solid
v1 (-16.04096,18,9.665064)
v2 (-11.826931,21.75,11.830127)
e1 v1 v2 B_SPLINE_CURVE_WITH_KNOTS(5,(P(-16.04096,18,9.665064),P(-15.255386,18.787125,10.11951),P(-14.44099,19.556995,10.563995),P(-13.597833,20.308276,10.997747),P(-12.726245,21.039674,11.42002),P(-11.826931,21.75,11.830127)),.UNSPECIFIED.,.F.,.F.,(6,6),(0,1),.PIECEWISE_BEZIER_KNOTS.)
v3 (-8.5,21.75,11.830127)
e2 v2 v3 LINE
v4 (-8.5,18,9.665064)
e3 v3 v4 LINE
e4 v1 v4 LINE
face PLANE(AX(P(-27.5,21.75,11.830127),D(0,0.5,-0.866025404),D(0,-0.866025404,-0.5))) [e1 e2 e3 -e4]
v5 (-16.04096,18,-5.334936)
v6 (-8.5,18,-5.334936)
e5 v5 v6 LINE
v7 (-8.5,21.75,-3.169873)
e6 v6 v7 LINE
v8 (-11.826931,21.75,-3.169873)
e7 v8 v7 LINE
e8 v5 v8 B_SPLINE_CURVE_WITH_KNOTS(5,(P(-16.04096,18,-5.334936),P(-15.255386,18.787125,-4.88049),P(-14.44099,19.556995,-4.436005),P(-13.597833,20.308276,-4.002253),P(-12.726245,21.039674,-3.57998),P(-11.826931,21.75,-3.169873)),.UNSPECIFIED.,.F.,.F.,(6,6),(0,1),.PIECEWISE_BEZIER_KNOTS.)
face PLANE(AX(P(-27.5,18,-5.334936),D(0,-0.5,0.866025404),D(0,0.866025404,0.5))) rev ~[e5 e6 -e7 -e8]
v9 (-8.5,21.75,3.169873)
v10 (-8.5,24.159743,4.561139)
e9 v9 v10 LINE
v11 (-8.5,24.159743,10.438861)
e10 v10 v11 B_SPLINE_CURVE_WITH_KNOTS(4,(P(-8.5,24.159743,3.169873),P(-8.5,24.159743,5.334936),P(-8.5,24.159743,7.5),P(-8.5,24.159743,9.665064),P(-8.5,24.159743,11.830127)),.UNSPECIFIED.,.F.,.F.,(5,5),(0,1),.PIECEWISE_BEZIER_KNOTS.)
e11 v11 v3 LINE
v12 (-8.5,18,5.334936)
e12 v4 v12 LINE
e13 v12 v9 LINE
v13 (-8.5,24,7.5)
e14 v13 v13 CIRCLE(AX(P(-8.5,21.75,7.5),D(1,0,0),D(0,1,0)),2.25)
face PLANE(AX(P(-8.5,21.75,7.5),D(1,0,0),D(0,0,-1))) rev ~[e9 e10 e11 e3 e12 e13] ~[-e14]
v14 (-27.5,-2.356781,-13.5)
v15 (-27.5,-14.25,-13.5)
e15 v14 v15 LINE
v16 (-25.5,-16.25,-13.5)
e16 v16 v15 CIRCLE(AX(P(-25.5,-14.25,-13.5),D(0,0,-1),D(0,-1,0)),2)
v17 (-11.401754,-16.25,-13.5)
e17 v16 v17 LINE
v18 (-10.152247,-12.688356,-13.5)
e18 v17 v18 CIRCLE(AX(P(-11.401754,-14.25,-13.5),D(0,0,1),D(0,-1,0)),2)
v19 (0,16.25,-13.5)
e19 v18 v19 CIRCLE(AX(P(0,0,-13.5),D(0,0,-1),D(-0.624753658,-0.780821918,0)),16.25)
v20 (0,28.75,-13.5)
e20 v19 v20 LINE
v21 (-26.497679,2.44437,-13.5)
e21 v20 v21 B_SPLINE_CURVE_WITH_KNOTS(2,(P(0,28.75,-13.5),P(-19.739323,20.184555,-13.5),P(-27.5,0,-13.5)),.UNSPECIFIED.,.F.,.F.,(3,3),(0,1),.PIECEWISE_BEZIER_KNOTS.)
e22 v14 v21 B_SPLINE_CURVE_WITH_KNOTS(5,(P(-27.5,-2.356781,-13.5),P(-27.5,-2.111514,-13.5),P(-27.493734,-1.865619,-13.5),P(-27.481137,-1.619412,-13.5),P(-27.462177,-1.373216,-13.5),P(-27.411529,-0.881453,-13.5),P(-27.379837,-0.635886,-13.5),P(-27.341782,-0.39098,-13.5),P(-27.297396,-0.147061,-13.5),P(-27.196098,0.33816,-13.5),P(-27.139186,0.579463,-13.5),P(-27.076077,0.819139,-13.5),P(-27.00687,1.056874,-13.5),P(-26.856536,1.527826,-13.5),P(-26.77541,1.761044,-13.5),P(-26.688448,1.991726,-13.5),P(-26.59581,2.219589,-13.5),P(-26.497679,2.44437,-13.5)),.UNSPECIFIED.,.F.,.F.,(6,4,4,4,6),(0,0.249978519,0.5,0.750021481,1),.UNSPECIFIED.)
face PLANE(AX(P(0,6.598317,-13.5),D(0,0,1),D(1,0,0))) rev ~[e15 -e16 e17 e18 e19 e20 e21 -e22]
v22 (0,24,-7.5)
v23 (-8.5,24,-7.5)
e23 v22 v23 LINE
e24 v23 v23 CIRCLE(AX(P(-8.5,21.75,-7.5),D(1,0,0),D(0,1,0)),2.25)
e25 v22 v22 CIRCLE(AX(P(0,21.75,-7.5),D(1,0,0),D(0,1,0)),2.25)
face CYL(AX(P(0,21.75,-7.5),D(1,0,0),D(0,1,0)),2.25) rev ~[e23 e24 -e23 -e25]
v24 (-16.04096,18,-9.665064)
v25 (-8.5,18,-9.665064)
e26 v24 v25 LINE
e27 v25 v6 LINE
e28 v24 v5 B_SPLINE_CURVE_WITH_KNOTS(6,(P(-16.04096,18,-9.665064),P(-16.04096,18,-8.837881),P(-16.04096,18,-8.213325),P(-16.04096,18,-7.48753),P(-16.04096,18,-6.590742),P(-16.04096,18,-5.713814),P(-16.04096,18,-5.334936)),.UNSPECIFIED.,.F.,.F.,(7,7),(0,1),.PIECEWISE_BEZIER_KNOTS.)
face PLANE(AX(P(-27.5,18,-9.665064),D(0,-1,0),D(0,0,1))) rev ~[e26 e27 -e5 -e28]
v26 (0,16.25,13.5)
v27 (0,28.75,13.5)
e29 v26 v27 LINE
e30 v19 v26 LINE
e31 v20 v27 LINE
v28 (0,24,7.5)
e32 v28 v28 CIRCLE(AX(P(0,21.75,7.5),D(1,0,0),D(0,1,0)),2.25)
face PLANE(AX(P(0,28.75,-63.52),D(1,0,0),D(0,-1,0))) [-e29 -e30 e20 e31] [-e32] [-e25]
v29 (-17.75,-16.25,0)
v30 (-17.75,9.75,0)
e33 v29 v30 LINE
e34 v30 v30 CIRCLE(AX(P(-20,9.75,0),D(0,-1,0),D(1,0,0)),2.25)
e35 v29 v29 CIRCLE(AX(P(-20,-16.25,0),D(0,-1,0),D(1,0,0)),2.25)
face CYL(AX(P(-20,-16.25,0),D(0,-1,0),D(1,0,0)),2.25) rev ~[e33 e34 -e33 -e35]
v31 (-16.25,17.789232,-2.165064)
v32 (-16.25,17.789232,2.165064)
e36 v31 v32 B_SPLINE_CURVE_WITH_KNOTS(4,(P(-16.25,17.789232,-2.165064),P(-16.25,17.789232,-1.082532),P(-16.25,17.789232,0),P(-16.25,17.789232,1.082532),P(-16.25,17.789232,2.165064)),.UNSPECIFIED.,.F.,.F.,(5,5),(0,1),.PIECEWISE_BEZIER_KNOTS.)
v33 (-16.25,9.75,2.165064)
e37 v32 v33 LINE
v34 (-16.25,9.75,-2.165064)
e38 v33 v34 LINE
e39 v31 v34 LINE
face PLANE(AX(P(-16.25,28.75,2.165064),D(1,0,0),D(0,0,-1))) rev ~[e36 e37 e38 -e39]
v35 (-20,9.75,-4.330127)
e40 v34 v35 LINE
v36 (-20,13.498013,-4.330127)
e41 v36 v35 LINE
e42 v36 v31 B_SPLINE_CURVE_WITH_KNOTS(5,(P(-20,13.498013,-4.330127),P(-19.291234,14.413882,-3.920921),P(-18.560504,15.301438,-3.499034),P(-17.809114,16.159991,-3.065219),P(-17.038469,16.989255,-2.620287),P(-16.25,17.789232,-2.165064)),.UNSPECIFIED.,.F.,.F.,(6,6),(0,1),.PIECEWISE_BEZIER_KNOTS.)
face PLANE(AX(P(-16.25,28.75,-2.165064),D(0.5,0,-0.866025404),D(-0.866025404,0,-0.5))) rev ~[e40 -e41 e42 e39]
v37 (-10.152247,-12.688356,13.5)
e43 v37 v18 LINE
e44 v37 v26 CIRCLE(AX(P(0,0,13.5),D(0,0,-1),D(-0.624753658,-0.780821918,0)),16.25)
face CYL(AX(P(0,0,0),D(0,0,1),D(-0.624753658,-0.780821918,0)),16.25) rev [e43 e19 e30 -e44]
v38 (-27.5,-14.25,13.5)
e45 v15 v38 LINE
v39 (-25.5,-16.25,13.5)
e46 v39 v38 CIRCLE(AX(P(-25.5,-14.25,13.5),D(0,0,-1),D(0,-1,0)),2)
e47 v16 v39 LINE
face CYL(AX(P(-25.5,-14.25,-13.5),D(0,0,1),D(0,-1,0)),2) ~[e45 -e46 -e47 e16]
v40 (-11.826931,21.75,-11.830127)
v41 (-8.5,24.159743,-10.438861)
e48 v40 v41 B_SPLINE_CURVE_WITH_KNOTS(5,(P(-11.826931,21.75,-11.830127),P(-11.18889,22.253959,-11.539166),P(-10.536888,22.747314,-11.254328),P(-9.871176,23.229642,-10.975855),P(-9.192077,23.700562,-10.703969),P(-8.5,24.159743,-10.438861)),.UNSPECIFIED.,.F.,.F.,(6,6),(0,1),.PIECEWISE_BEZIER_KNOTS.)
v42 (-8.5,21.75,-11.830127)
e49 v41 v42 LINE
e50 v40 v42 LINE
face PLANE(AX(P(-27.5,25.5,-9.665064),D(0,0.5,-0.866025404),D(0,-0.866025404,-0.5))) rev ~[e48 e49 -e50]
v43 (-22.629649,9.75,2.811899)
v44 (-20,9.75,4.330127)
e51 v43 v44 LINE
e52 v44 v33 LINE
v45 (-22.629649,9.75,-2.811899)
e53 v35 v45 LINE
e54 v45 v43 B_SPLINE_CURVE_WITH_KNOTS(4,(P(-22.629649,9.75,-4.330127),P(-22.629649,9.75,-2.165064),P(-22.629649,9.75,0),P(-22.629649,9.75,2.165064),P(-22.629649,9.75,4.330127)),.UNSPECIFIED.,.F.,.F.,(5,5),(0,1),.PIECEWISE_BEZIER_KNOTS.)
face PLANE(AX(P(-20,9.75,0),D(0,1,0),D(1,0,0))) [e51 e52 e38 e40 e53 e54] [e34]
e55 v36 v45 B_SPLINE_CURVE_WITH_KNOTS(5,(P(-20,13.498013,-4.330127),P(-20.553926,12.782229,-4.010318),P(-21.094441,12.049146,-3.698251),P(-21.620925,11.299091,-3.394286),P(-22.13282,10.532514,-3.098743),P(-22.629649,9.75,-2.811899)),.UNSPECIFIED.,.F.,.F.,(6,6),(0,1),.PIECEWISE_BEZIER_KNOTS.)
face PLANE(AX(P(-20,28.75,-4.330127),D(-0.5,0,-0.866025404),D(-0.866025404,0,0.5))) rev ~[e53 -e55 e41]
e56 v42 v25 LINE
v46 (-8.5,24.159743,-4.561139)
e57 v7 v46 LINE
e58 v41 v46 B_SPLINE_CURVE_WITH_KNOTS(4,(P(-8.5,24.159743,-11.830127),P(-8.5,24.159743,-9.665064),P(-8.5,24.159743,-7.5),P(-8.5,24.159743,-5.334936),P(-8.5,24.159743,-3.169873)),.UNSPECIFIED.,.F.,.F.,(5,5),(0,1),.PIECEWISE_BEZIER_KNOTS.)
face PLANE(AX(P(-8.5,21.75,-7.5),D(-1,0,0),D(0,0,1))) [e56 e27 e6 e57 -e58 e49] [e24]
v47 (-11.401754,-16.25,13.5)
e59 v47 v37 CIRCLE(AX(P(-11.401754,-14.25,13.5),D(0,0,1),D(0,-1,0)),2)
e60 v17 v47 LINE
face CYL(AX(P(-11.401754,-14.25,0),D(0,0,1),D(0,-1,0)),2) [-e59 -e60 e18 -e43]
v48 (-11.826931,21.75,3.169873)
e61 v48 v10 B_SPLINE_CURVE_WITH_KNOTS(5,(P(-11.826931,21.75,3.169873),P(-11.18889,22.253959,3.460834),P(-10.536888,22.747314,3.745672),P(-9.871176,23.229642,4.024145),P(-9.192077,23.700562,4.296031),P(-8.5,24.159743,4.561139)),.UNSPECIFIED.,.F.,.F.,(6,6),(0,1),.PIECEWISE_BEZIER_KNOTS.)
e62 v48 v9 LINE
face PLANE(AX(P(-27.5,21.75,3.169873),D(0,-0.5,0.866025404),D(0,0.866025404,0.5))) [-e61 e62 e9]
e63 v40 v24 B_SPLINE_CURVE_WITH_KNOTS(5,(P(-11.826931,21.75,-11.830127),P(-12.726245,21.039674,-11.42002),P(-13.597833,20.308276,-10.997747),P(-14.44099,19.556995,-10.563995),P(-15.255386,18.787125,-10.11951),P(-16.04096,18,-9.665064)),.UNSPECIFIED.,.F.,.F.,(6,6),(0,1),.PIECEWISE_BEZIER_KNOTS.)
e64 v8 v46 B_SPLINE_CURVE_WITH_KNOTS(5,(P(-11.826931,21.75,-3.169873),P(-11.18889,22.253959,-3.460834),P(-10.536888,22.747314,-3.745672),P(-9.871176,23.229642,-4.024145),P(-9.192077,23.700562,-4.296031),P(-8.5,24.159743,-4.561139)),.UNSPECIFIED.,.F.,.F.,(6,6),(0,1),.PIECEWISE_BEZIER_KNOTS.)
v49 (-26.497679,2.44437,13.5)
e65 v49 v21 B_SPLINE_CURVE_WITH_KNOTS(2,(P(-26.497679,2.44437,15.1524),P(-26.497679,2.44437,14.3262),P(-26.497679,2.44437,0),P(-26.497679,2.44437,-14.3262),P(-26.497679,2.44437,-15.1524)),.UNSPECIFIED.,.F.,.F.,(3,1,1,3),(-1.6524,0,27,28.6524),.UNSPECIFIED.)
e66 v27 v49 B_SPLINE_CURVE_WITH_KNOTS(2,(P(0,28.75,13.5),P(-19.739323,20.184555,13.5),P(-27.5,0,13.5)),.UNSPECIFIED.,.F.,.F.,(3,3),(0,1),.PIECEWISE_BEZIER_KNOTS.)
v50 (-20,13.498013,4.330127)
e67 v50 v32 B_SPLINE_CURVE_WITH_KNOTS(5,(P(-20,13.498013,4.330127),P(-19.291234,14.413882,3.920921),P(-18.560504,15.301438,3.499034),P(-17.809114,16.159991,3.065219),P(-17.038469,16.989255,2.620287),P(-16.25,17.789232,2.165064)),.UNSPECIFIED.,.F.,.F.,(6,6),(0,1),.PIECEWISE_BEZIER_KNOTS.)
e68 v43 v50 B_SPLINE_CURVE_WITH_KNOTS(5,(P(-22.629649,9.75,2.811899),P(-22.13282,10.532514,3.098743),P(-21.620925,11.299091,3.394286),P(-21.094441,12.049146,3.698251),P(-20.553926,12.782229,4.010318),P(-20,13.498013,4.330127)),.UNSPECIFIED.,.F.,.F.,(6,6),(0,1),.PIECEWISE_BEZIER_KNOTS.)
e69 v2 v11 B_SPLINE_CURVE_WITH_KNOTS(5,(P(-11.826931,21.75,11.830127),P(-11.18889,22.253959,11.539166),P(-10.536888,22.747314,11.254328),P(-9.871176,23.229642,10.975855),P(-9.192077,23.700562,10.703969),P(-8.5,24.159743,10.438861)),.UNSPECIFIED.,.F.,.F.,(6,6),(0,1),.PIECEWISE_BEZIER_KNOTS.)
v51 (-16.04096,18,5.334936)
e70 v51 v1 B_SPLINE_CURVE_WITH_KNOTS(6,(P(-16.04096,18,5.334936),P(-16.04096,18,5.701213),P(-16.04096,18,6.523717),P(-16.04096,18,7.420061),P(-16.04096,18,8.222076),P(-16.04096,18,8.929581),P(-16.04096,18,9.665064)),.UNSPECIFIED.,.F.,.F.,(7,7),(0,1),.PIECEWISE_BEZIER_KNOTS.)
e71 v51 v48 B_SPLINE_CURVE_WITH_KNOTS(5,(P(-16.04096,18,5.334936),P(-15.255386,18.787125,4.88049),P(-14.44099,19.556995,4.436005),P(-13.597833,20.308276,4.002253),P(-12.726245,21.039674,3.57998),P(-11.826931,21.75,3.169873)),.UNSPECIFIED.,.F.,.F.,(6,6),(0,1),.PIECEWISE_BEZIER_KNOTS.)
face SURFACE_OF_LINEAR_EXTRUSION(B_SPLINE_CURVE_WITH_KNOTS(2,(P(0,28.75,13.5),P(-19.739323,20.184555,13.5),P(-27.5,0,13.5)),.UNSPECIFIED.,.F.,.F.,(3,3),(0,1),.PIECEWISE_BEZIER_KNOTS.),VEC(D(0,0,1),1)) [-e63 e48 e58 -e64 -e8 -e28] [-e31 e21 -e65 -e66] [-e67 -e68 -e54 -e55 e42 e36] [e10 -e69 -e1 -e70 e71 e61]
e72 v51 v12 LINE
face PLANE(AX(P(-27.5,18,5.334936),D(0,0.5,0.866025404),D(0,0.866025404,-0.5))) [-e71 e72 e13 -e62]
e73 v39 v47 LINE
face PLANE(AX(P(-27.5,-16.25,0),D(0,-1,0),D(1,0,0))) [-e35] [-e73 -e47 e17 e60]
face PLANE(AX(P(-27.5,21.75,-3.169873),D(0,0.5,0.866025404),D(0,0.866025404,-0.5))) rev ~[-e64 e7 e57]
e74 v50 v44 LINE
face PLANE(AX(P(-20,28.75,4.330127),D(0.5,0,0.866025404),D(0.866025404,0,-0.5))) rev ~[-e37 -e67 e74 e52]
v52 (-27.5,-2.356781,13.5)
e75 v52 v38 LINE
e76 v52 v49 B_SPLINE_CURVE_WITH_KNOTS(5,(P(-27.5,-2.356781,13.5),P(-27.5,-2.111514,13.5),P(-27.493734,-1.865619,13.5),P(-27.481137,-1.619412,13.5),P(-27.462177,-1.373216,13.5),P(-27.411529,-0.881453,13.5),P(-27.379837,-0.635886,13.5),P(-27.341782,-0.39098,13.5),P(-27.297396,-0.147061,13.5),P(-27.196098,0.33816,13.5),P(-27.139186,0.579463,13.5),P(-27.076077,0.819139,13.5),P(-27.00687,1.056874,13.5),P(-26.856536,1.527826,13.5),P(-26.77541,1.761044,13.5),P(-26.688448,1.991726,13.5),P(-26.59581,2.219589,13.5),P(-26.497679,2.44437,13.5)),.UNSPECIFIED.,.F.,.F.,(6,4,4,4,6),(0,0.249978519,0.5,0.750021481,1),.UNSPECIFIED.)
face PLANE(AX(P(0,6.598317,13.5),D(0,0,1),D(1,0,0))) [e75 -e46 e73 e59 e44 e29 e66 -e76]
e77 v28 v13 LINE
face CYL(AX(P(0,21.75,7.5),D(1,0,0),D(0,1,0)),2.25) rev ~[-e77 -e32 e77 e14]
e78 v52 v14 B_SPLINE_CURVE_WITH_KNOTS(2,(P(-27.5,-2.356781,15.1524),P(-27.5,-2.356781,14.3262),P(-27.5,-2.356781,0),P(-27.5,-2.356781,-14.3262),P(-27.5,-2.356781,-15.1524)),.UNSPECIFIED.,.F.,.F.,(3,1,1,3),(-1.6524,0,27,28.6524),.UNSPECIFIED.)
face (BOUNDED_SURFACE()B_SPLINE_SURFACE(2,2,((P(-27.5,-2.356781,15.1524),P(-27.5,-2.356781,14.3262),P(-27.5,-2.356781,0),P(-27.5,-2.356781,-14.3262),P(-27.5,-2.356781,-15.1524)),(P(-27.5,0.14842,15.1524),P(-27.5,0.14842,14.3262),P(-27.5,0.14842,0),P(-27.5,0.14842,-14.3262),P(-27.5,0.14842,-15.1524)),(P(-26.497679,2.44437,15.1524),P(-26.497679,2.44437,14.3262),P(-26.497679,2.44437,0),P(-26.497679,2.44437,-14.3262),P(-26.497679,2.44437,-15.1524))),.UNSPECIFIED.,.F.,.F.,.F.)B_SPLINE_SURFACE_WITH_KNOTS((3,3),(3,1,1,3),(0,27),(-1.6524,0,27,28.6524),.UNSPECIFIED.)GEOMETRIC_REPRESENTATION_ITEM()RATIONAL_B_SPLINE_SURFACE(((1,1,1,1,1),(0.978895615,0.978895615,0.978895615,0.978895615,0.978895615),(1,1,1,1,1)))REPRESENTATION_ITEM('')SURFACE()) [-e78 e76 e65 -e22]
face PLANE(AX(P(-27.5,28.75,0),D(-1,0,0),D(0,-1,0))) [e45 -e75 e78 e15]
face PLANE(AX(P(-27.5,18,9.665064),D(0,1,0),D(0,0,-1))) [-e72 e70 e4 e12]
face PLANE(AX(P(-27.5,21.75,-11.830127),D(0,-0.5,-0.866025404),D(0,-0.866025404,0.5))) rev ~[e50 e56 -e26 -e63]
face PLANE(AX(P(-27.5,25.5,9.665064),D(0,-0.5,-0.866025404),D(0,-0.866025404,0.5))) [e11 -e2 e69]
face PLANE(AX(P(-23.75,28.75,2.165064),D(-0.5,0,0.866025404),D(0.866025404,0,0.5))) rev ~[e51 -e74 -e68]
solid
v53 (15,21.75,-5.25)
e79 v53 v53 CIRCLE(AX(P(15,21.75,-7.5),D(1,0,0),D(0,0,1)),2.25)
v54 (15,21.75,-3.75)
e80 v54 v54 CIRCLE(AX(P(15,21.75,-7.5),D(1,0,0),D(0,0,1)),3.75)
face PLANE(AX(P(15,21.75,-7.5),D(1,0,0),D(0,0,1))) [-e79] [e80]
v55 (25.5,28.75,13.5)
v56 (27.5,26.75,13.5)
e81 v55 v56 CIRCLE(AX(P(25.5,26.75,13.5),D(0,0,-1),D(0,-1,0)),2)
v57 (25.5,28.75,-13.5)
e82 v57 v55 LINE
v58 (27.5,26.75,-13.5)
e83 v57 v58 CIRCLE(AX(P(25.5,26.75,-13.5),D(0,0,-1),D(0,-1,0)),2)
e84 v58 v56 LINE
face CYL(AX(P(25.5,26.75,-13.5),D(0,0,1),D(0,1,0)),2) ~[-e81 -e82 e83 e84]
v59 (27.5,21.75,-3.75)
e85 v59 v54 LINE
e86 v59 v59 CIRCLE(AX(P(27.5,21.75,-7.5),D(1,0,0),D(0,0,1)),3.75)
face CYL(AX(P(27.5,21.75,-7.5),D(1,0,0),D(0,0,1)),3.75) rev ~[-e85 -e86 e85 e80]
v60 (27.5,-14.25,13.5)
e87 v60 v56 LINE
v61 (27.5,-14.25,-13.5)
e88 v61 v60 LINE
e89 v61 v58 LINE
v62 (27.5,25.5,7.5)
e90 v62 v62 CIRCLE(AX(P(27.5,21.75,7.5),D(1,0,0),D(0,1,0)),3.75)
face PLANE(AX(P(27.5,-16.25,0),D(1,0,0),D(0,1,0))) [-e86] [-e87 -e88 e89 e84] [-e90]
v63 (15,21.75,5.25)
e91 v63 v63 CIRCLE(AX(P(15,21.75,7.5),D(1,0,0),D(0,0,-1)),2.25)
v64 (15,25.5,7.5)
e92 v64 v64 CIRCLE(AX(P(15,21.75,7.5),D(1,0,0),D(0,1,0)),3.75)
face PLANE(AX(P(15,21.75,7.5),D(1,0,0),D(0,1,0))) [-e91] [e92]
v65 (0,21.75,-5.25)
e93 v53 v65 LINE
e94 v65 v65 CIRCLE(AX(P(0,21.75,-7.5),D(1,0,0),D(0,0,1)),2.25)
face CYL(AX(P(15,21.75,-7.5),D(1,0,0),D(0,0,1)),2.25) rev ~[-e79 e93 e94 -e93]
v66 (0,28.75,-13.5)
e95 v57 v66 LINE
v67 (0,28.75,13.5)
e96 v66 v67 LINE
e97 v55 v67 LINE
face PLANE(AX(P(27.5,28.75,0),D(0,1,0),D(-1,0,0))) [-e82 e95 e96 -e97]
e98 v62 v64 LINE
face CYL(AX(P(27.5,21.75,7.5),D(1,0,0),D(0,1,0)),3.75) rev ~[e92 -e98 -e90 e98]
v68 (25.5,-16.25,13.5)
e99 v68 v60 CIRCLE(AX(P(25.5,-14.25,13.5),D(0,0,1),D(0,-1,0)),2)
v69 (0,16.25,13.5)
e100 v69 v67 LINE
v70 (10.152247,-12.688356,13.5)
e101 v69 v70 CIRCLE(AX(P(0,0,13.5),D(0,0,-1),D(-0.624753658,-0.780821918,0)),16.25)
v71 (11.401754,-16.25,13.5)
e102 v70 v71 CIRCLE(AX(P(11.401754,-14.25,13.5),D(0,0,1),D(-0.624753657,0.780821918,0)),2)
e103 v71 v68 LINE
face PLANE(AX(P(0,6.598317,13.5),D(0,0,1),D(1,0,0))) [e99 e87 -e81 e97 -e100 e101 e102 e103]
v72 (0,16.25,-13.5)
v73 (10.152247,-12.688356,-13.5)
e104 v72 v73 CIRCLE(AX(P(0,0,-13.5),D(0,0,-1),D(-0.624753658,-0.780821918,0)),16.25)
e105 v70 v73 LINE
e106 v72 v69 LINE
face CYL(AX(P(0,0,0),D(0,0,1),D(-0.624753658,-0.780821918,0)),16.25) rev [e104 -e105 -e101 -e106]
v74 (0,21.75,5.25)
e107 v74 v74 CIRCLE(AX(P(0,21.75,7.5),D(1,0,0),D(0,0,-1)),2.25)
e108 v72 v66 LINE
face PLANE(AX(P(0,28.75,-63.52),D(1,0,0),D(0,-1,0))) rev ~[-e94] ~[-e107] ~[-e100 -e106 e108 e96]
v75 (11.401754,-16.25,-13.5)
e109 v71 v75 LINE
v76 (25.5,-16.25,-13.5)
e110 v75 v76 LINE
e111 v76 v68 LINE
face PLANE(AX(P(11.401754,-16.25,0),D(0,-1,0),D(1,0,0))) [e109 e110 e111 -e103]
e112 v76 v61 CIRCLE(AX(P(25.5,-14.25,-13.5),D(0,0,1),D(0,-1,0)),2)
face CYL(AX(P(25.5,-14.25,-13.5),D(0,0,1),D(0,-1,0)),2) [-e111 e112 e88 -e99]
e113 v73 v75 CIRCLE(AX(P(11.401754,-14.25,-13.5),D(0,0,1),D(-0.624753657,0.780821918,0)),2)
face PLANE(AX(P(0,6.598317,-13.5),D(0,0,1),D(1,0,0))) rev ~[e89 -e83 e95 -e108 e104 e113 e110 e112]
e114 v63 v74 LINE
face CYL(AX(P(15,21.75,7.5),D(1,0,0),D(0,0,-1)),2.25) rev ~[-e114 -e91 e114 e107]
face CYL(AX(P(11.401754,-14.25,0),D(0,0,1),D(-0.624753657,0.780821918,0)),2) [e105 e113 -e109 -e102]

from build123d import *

# Parameters (mm, degrees)
BOSS_EXTRUDE1_DEPTH    = 13.5
FILLET1_R              = 2
SPLIT1_SURFACE_1_BACK  = 77.02
SPLIT1_SURFACE_1_DEPTH = 154.04
SPLIT1_SURFACE_2_BACK  = 77.02
SPLIT1_SURFACE_2_DEPTH = 154.04
SKETCH3_R              = 3.75
CUT_EXTRUDE1_DEPTH     = 12.5
SKETCH7_R              = 2.25
CUT_EXTRUDE3_DEPTH     = 15
CUT_EXTRUDE2_DEPTH     = 27
FILLET2_R              = 12
SKETCH8_R              = 2.25
CUT_EXTRUDE4_DEPTH     = 27.5
CUT_EXTRUDE5_DEPTH     = 19
SKETCH10_R             = 2.25
CUT_EXTRUDE6_DEPTH     = 35
CUT_EXTRUDE7_DEPTH     = 19


with BuildPart() as part:
    # Sketch1 → Boss-Extrude1 (new, symmetric)
    with BuildSketch(Plane.XY):
        with BuildLine():
            Line((11.401754251, -16.25), (27.5, -16.25))
            Line((27.5, -16.25), (27.5, 28.75))
            Line((27.5, 28.75), (-27.5, 28.75))
            Line((-27.5, 28.75), (-27.5, -16.25))
            Line((-27.5, -16.25), (-11.401754251, -16.25))
            ThreePointArc((-11.401754251, -16.25), (-9.514522459, -14.912084711), (-10.152246936, -12.688356164))
            ThreePointArc((-10.152246936, -12.688356164), (0, 16.25), (10.152246936, -12.688356164))
            ThreePointArc((10.152246936, -12.688356164), (9.514522459, -14.912084711), (11.401754251, -16.25))
        make_face()
    extrude(amount=BOSS_EXTRUDE1_DEPTH, both=True)

    # Fillet1
    fillet1_edges = [part.edges().sort_by_distance(p)[0] for p in [
        (27.5, 28.75, 0),
        (27.5, -16.25, 0),
        (-27.5, -16.25, 0),
    ]]
    fillet(fillet1_edges, radius=FILLET1_R)


with BuildPart() as body_2:
    # Split1: the piece behind the surface
    add(part.part)
    # Split1 surface: a surface, the sketch's curves swept straight by 154.04 mm
    with BuildLine(Plane.XY.offset(13.5).offset(-SPLIT1_SURFACE_1_BACK), mode=Mode.PRIVATE) as split1_surface_1_path:
        Line((0, 28.75), (0, 0))
    split1_surface_1 = Shell.extrude(split1_surface_1_path.wire(), (0 * SPLIT1_SURFACE_1_DEPTH, 0 * SPLIT1_SURFACE_1_DEPTH, 1 * SPLIT1_SURFACE_1_DEPTH))
    split(bisect_by=split1_surface_1, keep=Keep.BOTTOM)

    # Sketch6 → Cut-Extrude2 (cut)
    with BuildSketch(Plane.XY.offset(13.5)):
        with BuildLine():
            Line((-27.5, 28.75), (-27.5, 0))
            add(Edge.make_bspline(
                [(0, 28.75), (-19.739323264, 20.184554889), (-27.5, 0)],
                knots=[0, 0, 0, 1, 1, 1], degree=2))
            Line((0, 28.75), (-27.5, 28.75))
        make_face()
    extrude(amount=-CUT_EXTRUDE2_DEPTH, mode=Mode.SUBTRACT)

    # Fillet2
    fillet2_edges = [body_2.edges().sort_by_distance(p)[0] for p in [
        (-27.5, 0, 0),
    ]]
    fillet(fillet2_edges, radius=FILLET2_R)

    # Sketch8 → Cut-Extrude4 (cut)
    with BuildSketch(Plane(origin=(0, 0, 0), x_dir=(0, 0, -1), z_dir=(1, 0, 0))):
        with Locations(Location((7.5, 21.75, 0), (0, 0, 90))):
            Circle(SKETCH8_R)
        with Locations(Location((-7.5, 21.75, 0), (0, 0, 90))):
            Circle(SKETCH8_R)
    extrude(amount=-CUT_EXTRUDE4_DEPTH, mode=Mode.SUBTRACT)

    # Sketch9 → Cut-Extrude5 (cut)
    with BuildSketch(Plane.ZY.offset(27.5)):
        Polygon((-5.334936491, 25.5), (-9.665063509, 25.5), (-11.830127019, 21.75), (-9.665063509, 18), (-5.334936491, 18), (-3.169872981, 21.75), align=None)
        Polygon((3.169872981, 21.75), (5.334936491, 25.5), (9.665063509, 25.5), (11.830127019, 21.75), (9.665063509, 18), (5.334936491, 18), align=None)
    extrude(amount=-CUT_EXTRUDE5_DEPTH, mode=Mode.SUBTRACT)

    # Sketch10 → Cut-Extrude6 (cut)
    with BuildSketch(Plane.XZ.offset(16.25)):
        with Locations((-20, 0)):
            Circle(SKETCH10_R)
    extrude(amount=-CUT_EXTRUDE6_DEPTH, mode=Mode.SUBTRACT)

    # Sketch11 → Cut-Extrude7 (cut)
    with BuildSketch(Plane(origin=(0, 28.75, 0), x_dir=(1, 0, 0), z_dir=(0, 1, 0))):
        Polygon((-16.25, -2.165063509), (-16.25, 2.165063509), (-20, 4.330127019), (-23.75, 2.165063509), (-23.75, -2.165063509), (-20, -4.330127019), align=None)
    extrude(amount=-CUT_EXTRUDE7_DEPTH, mode=Mode.SUBTRACT)


with BuildPart() as part_1:
    add(part.part)

    # Split1: split by a surface, the side it looks to stays
    # Split1 surface: a surface, the sketch's curves swept straight by 154.04 mm
    with BuildLine(Plane.XY.offset(13.5).offset(-SPLIT1_SURFACE_2_BACK), mode=Mode.PRIVATE) as split1_surface_2_path:
        Line((0, 28.75), (0, 0))
    split1_surface_2 = Shell.extrude(split1_surface_2_path.wire(), (0 * SPLIT1_SURFACE_2_DEPTH, 0 * SPLIT1_SURFACE_2_DEPTH, 1 * SPLIT1_SURFACE_2_DEPTH))
    split(bisect_by=split1_surface_2, keep=Keep.TOP)

    # Sketch3 → Cut-Extrude1 (cut)
    with BuildSketch(Plane(origin=(27.5, 0, 0), x_dir=(0, 0, -1), z_dir=(1, 0, 0))):
        with Locations(Location((-7.5, 21.75, 0), (0, 0, 90))):
            Circle(SKETCH3_R)
        with Locations(Location((7.5, 21.75, 0), (0, 0, 180))):
            Circle(SKETCH3_R)
    extrude(amount=-CUT_EXTRUDE1_DEPTH, mode=Mode.SUBTRACT)

    # Sketch7 → Cut-Extrude3 (cut)
    with BuildSketch(Plane(origin=(15, 0, 0), x_dir=(0, 0, -1), z_dir=(1, 0, 0))):
        with Locations((-7.5, 21.75)):
            Circle(SKETCH7_R)
        with Locations(Location((7.5, 21.75, 0), (0, 0, 180))):
            Circle(SKETCH7_R)
    extrude(amount=-CUT_EXTRUDE3_DEPTH, mode=Mode.SUBTRACT)


solid = Compound([body_2.part, part_1.part])
